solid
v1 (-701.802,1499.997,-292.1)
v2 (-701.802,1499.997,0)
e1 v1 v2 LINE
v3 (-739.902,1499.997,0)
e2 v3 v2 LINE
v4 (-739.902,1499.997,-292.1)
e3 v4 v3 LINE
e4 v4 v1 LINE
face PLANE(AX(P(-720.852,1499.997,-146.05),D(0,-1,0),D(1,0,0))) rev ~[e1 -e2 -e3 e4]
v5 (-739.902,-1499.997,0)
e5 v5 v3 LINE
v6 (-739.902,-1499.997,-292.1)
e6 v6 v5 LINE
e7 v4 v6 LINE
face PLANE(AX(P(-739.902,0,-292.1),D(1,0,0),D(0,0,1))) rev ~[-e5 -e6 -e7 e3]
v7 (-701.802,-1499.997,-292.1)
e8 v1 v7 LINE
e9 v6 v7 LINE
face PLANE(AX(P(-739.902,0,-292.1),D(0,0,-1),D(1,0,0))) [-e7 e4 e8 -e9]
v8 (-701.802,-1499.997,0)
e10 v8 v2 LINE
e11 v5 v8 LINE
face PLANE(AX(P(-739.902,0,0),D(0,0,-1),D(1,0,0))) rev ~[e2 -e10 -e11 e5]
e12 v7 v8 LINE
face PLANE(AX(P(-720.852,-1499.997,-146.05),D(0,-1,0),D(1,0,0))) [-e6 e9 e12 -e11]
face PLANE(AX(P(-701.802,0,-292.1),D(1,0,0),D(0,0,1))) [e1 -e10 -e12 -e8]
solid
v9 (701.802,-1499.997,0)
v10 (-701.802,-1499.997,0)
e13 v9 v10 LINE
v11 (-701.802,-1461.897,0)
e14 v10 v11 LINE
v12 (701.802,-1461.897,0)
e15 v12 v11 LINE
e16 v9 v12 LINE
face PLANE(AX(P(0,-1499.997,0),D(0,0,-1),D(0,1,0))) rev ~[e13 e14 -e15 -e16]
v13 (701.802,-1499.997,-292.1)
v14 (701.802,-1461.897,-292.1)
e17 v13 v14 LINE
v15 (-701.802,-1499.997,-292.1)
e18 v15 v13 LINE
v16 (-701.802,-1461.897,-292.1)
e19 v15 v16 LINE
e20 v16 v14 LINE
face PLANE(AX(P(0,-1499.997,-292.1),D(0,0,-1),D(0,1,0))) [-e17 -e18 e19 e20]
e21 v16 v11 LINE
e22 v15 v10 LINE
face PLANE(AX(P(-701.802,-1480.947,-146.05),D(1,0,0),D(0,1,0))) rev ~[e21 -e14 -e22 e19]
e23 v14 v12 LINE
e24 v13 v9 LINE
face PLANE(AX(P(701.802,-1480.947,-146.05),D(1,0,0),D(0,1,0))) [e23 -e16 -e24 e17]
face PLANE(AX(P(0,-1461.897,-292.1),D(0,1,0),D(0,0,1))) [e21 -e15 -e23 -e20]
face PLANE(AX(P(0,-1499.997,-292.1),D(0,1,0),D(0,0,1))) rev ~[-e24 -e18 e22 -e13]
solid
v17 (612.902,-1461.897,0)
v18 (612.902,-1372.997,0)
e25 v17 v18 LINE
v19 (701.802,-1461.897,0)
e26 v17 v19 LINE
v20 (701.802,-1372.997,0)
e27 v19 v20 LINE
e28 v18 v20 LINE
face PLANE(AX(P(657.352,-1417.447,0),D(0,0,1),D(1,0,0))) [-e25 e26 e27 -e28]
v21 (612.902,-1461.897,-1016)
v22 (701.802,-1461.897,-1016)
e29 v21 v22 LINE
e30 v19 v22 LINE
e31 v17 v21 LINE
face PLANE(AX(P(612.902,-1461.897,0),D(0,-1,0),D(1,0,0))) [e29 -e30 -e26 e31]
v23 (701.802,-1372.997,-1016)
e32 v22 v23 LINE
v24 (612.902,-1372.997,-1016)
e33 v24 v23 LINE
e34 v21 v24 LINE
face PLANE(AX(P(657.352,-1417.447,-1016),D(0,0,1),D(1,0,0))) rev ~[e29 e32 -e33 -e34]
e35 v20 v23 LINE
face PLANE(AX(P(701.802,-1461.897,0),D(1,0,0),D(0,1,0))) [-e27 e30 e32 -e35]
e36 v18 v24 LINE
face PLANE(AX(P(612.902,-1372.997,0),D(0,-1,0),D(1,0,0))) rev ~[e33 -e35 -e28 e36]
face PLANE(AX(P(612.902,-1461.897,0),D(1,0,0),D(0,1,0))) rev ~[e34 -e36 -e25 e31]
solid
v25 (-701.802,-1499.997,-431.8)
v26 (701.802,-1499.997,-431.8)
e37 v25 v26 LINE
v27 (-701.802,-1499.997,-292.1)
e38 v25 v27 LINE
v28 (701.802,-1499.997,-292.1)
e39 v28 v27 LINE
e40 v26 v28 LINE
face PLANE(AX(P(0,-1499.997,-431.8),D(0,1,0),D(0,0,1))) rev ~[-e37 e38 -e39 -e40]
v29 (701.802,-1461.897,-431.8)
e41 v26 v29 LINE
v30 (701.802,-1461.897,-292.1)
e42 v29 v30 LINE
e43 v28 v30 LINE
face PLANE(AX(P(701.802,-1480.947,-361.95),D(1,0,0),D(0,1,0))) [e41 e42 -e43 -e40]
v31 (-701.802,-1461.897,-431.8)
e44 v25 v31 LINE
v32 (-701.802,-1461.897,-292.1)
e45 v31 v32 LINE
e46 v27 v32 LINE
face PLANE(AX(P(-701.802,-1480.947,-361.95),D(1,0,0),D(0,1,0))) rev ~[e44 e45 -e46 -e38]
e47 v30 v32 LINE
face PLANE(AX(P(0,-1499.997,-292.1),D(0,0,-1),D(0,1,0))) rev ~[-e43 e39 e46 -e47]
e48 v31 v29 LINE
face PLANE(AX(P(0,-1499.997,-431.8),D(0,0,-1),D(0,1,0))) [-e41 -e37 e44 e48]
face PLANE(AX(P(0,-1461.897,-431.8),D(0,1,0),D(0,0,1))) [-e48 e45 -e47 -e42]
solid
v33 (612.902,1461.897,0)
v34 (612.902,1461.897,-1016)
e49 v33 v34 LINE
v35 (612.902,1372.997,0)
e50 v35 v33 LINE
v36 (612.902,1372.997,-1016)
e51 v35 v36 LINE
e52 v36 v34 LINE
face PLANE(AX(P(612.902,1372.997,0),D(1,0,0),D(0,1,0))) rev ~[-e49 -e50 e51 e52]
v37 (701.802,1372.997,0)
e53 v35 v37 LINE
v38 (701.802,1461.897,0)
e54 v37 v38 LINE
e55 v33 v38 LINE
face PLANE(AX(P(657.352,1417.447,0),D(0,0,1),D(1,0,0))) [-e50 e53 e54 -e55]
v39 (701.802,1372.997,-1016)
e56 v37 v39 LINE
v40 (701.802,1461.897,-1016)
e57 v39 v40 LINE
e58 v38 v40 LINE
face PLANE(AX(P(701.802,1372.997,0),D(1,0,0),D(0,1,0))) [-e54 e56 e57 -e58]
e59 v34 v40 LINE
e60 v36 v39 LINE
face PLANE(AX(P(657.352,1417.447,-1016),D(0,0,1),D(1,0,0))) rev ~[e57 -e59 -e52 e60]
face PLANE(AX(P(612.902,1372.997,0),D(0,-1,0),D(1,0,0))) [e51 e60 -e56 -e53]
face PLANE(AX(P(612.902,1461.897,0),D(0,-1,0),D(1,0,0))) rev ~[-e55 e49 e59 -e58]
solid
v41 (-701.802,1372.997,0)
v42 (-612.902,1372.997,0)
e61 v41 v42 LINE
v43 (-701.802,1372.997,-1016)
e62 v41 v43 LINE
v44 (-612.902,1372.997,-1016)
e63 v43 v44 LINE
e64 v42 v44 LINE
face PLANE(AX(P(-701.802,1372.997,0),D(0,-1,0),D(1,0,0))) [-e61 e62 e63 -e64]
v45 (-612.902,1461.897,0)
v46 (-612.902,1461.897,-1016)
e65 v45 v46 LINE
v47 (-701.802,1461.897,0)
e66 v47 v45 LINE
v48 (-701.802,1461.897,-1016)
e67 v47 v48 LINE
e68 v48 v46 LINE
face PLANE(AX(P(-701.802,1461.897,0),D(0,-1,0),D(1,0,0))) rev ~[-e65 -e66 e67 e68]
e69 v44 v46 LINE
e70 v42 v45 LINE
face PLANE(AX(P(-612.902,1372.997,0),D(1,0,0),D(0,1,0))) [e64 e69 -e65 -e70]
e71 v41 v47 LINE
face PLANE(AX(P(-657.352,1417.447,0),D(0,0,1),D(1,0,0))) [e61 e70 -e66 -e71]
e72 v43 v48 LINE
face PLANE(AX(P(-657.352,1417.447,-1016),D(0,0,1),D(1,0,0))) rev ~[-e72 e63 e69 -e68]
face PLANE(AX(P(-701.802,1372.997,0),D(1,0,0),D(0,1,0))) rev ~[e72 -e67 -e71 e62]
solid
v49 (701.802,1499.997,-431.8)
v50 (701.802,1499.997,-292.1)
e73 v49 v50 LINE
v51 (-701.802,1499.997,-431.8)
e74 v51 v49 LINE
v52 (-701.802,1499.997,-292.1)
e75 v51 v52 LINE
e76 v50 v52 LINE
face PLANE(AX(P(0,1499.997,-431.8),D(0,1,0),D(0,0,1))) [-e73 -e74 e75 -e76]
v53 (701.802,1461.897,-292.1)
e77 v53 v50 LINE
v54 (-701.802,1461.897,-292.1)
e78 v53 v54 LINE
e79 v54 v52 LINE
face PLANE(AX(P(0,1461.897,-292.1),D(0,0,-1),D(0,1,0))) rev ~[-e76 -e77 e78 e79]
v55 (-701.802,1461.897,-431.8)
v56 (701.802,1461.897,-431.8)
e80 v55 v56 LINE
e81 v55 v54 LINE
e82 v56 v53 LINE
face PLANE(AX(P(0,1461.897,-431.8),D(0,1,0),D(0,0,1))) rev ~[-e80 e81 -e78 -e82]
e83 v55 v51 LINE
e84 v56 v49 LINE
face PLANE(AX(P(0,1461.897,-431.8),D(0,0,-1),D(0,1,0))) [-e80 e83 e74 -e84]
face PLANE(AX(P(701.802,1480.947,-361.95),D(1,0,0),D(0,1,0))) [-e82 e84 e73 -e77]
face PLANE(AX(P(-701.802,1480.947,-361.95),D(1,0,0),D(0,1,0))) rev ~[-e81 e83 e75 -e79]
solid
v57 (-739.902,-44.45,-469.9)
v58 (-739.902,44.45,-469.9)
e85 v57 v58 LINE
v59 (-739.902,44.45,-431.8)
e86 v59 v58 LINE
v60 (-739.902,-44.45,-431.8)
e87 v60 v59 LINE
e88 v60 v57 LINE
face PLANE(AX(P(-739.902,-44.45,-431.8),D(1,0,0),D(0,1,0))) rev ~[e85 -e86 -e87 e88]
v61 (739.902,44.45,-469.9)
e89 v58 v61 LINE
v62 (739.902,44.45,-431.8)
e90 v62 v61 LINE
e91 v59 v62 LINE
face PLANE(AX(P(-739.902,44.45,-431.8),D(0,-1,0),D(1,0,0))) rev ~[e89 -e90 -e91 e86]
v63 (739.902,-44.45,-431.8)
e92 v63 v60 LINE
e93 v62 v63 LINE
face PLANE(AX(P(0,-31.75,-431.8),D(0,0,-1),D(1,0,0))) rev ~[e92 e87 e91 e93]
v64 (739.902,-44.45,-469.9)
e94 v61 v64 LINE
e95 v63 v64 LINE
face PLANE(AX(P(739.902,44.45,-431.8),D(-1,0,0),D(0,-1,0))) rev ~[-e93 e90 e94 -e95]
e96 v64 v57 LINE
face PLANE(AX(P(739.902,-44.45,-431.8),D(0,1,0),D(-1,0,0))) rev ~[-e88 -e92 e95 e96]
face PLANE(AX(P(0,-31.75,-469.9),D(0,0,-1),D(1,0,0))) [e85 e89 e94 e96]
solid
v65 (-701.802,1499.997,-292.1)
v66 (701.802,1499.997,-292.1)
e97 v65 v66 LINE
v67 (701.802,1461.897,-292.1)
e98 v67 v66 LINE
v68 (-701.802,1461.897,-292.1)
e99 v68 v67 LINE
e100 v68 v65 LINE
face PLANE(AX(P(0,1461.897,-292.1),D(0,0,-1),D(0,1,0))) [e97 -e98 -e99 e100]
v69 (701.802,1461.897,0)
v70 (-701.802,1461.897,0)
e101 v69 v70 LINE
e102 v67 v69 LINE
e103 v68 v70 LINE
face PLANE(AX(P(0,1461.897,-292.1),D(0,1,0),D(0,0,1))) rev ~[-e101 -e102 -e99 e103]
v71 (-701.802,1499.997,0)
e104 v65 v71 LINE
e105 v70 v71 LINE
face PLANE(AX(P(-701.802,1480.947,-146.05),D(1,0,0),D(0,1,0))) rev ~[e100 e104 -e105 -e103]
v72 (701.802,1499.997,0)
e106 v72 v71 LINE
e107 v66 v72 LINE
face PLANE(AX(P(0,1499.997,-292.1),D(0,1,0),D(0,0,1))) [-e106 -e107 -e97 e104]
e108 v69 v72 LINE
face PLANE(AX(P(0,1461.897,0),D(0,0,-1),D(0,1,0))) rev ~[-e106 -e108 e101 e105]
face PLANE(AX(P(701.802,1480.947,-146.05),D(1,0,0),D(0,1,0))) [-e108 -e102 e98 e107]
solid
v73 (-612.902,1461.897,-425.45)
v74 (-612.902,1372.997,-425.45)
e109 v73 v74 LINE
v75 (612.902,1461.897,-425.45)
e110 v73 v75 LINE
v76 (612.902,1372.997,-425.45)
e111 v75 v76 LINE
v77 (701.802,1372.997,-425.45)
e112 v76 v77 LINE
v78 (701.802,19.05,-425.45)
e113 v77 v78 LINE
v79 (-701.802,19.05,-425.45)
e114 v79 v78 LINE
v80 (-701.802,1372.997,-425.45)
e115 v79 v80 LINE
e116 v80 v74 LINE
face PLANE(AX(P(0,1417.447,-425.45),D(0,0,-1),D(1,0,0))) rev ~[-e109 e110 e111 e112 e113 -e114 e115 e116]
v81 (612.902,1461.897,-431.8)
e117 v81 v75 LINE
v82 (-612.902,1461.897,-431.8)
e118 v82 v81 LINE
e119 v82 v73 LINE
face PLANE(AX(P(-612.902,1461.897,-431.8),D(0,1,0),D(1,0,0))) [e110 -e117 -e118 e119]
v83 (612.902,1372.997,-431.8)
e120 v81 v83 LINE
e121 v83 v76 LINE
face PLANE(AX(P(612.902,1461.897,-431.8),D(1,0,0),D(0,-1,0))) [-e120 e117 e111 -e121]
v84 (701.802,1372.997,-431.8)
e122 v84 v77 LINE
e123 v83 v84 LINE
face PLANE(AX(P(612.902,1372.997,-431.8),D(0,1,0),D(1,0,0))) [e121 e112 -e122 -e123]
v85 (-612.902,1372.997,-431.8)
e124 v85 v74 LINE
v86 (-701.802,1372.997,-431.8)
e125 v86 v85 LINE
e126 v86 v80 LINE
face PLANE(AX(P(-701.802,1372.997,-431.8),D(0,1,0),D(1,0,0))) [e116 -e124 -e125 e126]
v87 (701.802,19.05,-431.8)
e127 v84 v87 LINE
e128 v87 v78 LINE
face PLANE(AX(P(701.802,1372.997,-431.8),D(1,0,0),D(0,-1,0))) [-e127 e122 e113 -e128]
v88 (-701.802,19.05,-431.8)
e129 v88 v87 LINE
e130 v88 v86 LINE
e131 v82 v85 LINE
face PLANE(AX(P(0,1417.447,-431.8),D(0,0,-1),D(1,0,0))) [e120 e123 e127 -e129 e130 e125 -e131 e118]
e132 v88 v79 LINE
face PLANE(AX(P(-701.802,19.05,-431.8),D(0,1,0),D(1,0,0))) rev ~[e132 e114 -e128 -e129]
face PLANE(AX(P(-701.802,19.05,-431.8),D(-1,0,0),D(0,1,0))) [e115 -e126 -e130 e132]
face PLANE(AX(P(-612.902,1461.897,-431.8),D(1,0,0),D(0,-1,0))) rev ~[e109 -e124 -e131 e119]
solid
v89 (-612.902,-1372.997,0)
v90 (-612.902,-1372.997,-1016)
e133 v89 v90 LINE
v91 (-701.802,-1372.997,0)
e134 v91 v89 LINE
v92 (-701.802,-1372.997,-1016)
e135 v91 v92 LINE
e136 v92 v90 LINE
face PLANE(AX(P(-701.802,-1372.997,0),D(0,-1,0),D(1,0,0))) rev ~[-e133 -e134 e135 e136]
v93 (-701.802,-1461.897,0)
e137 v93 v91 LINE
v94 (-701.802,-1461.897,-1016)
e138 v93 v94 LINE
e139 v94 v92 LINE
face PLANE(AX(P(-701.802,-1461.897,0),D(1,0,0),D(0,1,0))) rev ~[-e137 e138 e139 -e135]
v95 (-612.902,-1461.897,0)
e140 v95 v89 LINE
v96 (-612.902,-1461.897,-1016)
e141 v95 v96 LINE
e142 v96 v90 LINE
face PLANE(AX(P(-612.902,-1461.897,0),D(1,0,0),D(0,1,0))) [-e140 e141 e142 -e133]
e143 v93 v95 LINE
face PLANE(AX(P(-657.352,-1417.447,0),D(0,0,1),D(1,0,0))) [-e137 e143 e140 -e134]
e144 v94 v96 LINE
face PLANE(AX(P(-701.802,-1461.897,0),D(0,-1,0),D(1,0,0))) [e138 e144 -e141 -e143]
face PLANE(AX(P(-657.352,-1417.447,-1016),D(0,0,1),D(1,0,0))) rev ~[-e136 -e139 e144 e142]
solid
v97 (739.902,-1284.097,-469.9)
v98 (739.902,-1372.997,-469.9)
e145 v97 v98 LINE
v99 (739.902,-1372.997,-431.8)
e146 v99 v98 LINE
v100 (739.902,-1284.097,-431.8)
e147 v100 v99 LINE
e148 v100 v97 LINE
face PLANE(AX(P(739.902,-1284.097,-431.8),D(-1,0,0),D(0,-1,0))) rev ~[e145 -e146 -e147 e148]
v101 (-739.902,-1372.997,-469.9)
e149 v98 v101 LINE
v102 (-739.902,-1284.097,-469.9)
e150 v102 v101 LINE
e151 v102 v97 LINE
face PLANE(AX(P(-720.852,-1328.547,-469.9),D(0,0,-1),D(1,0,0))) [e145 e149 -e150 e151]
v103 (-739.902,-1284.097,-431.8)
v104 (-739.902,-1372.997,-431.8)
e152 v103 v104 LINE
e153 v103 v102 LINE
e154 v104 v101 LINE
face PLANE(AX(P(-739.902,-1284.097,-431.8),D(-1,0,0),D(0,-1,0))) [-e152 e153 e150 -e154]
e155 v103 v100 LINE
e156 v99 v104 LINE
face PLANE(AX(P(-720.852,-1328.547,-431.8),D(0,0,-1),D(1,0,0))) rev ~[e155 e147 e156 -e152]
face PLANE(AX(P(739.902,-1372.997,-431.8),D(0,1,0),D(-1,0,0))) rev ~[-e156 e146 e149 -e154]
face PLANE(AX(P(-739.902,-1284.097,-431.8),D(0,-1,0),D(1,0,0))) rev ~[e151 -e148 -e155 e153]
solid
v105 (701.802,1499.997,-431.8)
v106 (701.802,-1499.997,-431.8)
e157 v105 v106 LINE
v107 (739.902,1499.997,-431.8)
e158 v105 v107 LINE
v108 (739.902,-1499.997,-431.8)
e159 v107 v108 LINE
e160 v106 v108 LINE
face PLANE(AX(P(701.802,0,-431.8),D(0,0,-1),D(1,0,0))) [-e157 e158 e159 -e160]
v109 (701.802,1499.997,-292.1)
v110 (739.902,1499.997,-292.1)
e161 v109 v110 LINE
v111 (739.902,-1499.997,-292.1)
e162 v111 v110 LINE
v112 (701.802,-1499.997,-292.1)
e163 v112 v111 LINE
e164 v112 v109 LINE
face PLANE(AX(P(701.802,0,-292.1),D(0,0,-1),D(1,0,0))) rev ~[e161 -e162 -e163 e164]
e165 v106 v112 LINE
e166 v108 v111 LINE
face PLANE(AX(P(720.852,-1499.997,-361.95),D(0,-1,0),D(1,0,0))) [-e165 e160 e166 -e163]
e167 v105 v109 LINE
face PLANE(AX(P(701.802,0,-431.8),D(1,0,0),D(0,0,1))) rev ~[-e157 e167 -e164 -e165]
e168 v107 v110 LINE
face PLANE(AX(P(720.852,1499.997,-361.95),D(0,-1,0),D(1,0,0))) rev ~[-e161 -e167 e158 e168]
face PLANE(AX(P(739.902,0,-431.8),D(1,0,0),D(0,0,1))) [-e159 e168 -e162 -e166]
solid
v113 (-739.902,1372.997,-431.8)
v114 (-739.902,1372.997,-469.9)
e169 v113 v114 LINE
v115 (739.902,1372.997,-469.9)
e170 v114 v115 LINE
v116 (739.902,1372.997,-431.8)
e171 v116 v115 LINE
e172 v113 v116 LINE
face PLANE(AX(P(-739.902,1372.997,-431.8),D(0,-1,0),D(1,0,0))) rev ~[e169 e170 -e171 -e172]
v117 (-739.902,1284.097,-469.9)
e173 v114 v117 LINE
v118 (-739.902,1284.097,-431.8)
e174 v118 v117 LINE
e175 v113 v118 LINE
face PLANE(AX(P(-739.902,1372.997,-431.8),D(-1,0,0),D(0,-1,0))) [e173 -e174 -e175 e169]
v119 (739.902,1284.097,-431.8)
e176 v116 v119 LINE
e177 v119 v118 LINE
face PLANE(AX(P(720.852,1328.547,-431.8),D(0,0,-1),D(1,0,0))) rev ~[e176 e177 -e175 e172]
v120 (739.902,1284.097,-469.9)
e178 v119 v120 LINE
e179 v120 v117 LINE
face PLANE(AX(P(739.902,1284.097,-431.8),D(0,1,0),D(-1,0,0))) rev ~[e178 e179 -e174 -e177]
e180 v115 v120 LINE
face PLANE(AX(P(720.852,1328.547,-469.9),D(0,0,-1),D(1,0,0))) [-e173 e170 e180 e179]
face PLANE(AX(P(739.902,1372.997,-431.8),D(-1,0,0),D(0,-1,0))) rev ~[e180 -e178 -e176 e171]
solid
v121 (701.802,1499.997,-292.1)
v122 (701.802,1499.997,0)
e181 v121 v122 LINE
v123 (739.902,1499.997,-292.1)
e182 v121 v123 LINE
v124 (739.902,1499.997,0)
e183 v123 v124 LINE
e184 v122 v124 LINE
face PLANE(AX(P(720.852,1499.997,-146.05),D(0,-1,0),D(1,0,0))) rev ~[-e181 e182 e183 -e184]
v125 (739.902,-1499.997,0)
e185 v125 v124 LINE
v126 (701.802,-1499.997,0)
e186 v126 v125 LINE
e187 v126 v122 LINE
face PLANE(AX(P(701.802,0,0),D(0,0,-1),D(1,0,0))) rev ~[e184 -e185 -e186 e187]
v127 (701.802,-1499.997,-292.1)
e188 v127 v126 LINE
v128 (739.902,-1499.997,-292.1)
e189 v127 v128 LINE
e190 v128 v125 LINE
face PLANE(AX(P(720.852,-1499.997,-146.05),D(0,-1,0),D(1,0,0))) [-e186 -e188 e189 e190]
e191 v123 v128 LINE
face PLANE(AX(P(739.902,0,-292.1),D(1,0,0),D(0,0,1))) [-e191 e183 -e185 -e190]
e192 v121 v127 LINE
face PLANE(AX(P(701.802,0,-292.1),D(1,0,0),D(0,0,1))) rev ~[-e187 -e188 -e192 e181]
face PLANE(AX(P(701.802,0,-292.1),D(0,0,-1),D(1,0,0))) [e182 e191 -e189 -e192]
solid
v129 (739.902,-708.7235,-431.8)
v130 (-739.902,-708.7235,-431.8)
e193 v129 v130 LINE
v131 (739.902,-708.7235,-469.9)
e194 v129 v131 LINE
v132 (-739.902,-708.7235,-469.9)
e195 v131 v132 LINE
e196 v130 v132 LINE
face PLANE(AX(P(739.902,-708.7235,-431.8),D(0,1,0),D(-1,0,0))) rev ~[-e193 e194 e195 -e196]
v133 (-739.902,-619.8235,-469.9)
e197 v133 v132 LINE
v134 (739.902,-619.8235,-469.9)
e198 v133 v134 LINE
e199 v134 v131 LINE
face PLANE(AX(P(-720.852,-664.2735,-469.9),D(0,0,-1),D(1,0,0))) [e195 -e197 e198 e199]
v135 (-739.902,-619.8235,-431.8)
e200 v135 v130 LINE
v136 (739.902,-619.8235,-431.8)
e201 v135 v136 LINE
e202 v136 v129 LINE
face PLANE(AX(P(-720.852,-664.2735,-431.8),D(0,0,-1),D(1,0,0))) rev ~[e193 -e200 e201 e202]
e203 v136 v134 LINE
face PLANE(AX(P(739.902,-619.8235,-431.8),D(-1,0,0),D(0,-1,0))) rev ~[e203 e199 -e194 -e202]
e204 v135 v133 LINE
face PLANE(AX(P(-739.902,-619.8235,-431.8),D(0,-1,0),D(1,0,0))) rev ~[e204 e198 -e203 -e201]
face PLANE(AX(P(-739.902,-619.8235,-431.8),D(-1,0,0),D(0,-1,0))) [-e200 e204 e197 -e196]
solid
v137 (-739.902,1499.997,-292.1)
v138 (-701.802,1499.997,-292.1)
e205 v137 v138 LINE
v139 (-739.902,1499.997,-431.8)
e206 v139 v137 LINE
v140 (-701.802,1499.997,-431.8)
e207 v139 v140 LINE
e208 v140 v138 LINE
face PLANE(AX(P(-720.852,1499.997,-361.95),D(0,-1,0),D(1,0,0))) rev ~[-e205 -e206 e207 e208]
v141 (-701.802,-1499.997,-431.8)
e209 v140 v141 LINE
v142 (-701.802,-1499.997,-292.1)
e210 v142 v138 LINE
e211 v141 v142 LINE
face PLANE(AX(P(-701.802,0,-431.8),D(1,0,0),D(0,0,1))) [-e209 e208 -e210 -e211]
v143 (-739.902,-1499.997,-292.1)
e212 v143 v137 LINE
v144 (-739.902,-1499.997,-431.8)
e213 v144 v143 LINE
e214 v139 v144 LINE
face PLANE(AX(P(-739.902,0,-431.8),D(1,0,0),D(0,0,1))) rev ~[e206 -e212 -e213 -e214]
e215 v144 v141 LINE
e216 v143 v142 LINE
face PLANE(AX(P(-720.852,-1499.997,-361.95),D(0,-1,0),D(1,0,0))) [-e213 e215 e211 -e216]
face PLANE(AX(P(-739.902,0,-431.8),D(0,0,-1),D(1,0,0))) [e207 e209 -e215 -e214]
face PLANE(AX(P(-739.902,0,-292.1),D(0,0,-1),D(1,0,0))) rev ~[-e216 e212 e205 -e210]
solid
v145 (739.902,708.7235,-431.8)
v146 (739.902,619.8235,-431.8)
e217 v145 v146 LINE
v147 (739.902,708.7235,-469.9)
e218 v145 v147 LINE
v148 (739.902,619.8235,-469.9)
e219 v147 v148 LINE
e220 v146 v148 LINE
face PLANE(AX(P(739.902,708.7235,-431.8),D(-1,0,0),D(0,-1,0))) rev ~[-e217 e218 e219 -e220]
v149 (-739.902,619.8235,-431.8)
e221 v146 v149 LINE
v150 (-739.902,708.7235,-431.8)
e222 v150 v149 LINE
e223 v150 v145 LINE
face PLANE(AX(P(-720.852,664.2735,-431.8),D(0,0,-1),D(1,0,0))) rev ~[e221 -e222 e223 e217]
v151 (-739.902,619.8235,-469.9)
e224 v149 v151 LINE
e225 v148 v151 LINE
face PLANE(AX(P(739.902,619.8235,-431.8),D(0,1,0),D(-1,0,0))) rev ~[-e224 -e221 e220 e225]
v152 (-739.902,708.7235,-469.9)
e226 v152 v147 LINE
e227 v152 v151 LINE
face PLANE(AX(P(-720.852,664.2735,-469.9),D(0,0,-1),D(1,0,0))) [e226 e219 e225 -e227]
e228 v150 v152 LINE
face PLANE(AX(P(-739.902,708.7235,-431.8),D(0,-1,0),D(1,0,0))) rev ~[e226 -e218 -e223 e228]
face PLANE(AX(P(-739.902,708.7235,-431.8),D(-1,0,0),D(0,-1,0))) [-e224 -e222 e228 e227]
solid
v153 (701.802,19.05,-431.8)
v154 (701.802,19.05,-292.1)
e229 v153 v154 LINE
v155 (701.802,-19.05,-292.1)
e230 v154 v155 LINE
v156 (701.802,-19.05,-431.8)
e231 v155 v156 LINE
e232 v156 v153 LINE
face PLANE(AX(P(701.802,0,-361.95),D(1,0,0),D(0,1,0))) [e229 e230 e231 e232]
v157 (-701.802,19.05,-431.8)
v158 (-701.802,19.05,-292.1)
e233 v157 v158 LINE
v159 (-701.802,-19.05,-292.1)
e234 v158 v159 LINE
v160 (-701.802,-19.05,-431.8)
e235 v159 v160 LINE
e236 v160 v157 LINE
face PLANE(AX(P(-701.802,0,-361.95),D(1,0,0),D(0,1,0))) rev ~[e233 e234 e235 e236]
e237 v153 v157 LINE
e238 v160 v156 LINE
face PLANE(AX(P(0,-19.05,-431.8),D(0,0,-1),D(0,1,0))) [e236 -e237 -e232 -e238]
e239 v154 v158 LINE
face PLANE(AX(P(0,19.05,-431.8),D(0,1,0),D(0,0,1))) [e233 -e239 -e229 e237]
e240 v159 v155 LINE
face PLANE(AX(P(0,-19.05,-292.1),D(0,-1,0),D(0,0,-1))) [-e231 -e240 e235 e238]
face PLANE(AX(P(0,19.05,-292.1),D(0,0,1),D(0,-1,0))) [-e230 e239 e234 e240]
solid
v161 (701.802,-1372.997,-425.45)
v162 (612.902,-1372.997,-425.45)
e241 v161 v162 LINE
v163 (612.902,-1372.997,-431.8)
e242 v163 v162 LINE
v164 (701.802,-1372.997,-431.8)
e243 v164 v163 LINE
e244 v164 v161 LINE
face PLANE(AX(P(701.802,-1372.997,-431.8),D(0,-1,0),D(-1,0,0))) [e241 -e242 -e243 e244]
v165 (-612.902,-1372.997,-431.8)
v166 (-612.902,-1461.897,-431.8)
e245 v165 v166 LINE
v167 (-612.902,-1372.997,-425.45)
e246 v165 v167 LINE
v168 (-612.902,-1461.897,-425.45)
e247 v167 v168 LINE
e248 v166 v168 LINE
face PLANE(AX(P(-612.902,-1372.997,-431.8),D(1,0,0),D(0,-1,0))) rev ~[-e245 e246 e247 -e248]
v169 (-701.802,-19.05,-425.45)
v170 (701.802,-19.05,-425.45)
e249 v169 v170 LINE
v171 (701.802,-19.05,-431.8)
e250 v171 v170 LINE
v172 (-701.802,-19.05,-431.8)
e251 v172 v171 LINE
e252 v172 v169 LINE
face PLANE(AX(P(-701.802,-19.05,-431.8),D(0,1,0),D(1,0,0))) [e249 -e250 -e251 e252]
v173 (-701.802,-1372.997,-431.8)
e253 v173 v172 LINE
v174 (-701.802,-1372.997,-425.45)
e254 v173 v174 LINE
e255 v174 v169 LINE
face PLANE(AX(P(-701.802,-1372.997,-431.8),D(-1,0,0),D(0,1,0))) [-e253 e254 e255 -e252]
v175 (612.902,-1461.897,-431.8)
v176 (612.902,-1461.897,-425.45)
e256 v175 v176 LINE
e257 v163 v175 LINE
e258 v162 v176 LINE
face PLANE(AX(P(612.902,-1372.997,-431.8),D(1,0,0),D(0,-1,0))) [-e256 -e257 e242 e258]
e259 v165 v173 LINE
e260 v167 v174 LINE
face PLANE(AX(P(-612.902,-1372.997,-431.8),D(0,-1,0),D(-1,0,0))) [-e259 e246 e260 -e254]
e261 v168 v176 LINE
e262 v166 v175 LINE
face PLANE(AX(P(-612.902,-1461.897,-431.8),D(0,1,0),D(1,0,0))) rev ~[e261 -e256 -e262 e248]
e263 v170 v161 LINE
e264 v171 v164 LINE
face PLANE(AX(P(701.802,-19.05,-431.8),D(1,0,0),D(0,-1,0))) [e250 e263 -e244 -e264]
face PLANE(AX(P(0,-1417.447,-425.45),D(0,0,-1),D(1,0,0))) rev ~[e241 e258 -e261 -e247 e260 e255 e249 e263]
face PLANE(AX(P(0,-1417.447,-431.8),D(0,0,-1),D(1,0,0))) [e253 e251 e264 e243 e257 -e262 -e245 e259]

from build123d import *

# Parameters (mm, degrees)
F1_W          = 38.1
F1_H          = 292.1
F3_DEPTH      = 1499.997
F3_DEPTH_BACK = 1499.997
F1_H_2        = 139.7
F4_DEPTH      = 1499.997
F4_DEPTH_BACK = 1499.997
F5_W          = 38.1
F5_H          = 292.1
F6_DEPTH      = 701.802
F6_DEPTH_BACK = 701.802
F5_H_2        = 139.7
F7_DEPTH      = 701.802
F7_DEPTH_BACK = 701.802
F8_W          = 88.9
F8_H          = 88.9
F10_DEPTH     = 1016
F12_W         = 1225.804
F12_H         = 88.9
F12_W_2       = 1403.604
F12_H_2       = 575.3735
F12_H_3       = 25.4
F13_DEPTH     = 6.35
F12_W_3       = 38.1
F14_DEPTH     = 38.1
F12_H_4       = 38.1


with BuildPart() as f3:
    # F1 (on Front) → F3 (new body, two sides)
    with BuildSketch(Plane.XZ) as f3_sk:
        with Locations((-720.852, -146.05)):
            Rectangle(F1_W, F1_H)
    extrude(amount=F3_DEPTH)
    extrude(f3_sk.sketch, amount=-F3_DEPTH_BACK)


with BuildPart() as f3b:
    # F1 (on Front) → F3, piece 2 (new body, two sides)
    with BuildSketch(Plane.XZ) as f3_2_sk:
        with Locations((720.852, -146.05)):
            Rectangle(F1_W, F1_H)
    extrude(amount=F3_DEPTH)
    extrude(f3_2_sk.sketch, amount=-F3_DEPTH_BACK)


with BuildPart() as f4:
    # F1 (on Front) → F4 (new body, two sides)
    with BuildSketch(Plane.XZ) as f4_sk:
        with Locations((-720.852, -361.95)):
            Rectangle(F1_W, F1_H_2)
    extrude(amount=F4_DEPTH)
    extrude(f4_sk.sketch, amount=-F4_DEPTH_BACK)


with BuildPart() as f4b:
    # F1 (on Front) → F4, piece 2 (new body, two sides)
    with BuildSketch(Plane.XZ) as f4_2_sk:
        with Locations((720.852, -361.95)):
            Rectangle(F1_W, F1_H_2)
    extrude(amount=F4_DEPTH)
    extrude(f4_2_sk.sketch, amount=-F4_DEPTH_BACK)


with BuildPart() as f6:
    # F5 (on Right) → F6 (new body, two sides)
    with BuildSketch(Plane.YZ) as f6_sk:
        with Locations((1480.947, -146.05)):
            Rectangle(F5_W, F5_H)
    extrude(amount=F6_DEPTH)
    extrude(f6_sk.sketch, amount=-F6_DEPTH_BACK)


with BuildPart() as f6b:
    # F5 (on Right) → F6, piece 2 (new body, two sides)
    with BuildSketch(Plane.YZ) as f6_2_sk:
        with Locations((-1480.947, -146.05)):
            Rectangle(F5_W, F5_H)
    extrude(amount=F6_DEPTH)
    extrude(f6_2_sk.sketch, amount=-F6_DEPTH_BACK)


with BuildPart() as f7:
    # F5 (on Right) → F7 (new body, two sides)
    with BuildSketch(Plane.YZ) as f7_sk:
        with Locations((-1480.947, -361.95)):
            Rectangle(F5_W, F5_H_2)
    extrude(amount=F7_DEPTH)
    extrude(f7_sk.sketch, amount=-F7_DEPTH_BACK)


with BuildPart() as f7b:
    # F5 (on Right) → F7, piece 2 (new body, two sides)
    with BuildSketch(Plane.YZ) as f7_2_sk:
        with Locations((1480.947, -361.95)):
            Rectangle(F5_W, F5_H_2)
    extrude(amount=F7_DEPTH)
    extrude(f7_2_sk.sketch, amount=-F7_DEPTH_BACK)


with BuildPart() as f7c:
    # F5 (on Right) → F7, piece 3 (new body, two sides)
    with BuildSketch(Plane.YZ) as f7_3_sk:
        Polygon((19.05, -292.1), (0, -292.1), (-19.05, -292.1), (-19.05, -431.8), (19.05, -431.8), align=None)
    extrude(amount=F7_DEPTH)
    extrude(f7_3_sk.sketch, amount=-F7_DEPTH_BACK)


with BuildPart() as f10:
    # F8 (on Top) → F10 (new body, through all)
    with BuildSketch(Plane.XY):
        with Locations((-657.352, 1417.447)):
            Rectangle(F8_W, F8_H)
    extrude(amount=-F10_DEPTH)


with BuildPart() as f10b:
    # F8 (on Top) → F10, piece 2 (new body, through all)
    with BuildSketch(Plane.XY):
        with Locations((657.352, 1417.447)):
            Rectangle(F8_W, F8_H)
    extrude(amount=-F10_DEPTH)


with BuildPart() as f10c:
    # F8 (on Top) → F10, piece 3 (new body, through all)
    with BuildSketch(Plane.XY):
        with Locations((-657.352, -1417.447)):
            Rectangle(F8_W, F8_H)
    extrude(amount=-F10_DEPTH)


with BuildPart() as f10d:
    # F8 (on Top) → F10, piece 4 (new body, through all)
    with BuildSketch(Plane.XY):
        with Locations((657.352, -1417.447)):
            Rectangle(F8_W, F8_H)
    extrude(amount=-F10_DEPTH)


with BuildPart() as f13:
    # F12 (on offset) → F13 (new body)
    with BuildSketch(Plane(origin=(0, 0, -431.8), x_dir=(1, 0, 0), z_dir=(0, 0, -1))):
        with Locations((0, 1417.447)):
            Rectangle(F12_W, F12_H)
        Polygon((612.902, 1372.997), (-612.902, 1372.997), (-701.802, 1372.997), (-701.802, 1284.097), (701.802, 1284.097), (701.802, 1372.997), align=None)
        with Locations((0, 996.41025)):
            Rectangle(F12_W_2, F12_H_2)
        with Locations((0, 664.2735)):
            Rectangle(F12_W_2, F12_H)
        with Locations((0, 332.13675)):
            Rectangle(F12_W_2, F12_H_2)
        with Locations((0, 31.75)):
            Rectangle(F12_W_2, F12_H_3)
    extrude(amount=-F13_DEPTH)


with BuildPart() as f13b:
    # F12 (on offset) → F13, piece 2 (new body)
    with BuildSketch(Plane(origin=(0, 0, -431.8), x_dir=(1, 0, 0), z_dir=(0, 0, -1))):
        with Locations((0, -1417.447)):
            Rectangle(F12_W, F12_H)
        with Locations((0, -332.13675)):
            Rectangle(F12_W_2, F12_H_2)
        Polygon((701.802, -1284.097), (-701.802, -1284.097), (-701.802, -1372.997), (-612.902, -1372.997), (612.902, -1372.997), (701.802, -1372.997), align=None)
        with Locations((0, -664.2735)):
            Rectangle(F12_W_2, F12_H)
        with Locations((0, -996.41025)):
            Rectangle(F12_W_2, F12_H_2)
        with Locations((0, -31.75)):
            Rectangle(F12_W_2, F12_H_3)
    extrude(amount=-F13_DEPTH)


with BuildPart() as f14:
    # F12 (on offset) → F14 (new body)
    with BuildSketch(Plane(origin=(0, 0, -431.8), x_dir=(1, 0, 0), z_dir=(0, 0, -1))):
        with Locations((-720.852, 1328.547)):
            Rectangle(F12_W_3, F12_H)
        Polygon((612.902, 1372.997), (-612.902, 1372.997), (-701.802, 1372.997), (-701.802, 1284.097), (701.802, 1284.097), (701.802, 1372.997), align=None)
        with Locations((720.852, 1328.547)):
            Rectangle(F12_W_3, F12_H)
    extrude(amount=F14_DEPTH)


with BuildPart() as f14b:
    # F12 (on offset) → F14, piece 2 (new body)
    with BuildSketch(Plane(origin=(0, 0, -431.8), x_dir=(1, 0, 0), z_dir=(0, 0, -1))):
        with Locations((-720.852, 664.2735)):
            Rectangle(F12_W_3, F12_H)
        with Locations((0, 664.2735)):
            Rectangle(F12_W_2, F12_H)
        with Locations((720.852, 664.2735)):
            Rectangle(F12_W_3, F12_H)
    extrude(amount=F14_DEPTH)


with BuildPart() as f14c:
    # F12 (on offset) → F14, piece 3 (new body)
    with BuildSketch(Plane(origin=(0, 0, -431.8), x_dir=(1, 0, 0), z_dir=(0, 0, -1))):
        with Locations((0, 31.75)):
            Rectangle(F12_W_2, F12_H_3)
        Rectangle(F12_W_2, F12_H_4)
        Polygon((-701.802, 19.05), (-701.802, 44.45), (-739.902, 44.45), (-739.902, -44.45), (-701.802, -44.45), (-701.802, -19.05), align=None)
        with Locations((0, -31.75)):
            Rectangle(F12_W_2, F12_H_3)
        Polygon((739.902, 44.45), (701.802, 44.45), (701.802, 19.05), (701.802, -19.05), (701.802, -44.45), (739.902, -44.45), align=None)
    extrude(amount=F14_DEPTH)


with BuildPart() as f14d:
    # F12 (on offset) → F14, piece 4 (new body)
    with BuildSketch(Plane(origin=(0, 0, -431.8), x_dir=(1, 0, 0), z_dir=(0, 0, -1))):
        with Locations((-720.852, -664.2735)):
            Rectangle(F12_W_3, F12_H)
        with Locations((0, -664.2735)):
            Rectangle(F12_W_2, F12_H)
        with Locations((720.852, -664.2735)):
            Rectangle(F12_W_3, F12_H)
    extrude(amount=F14_DEPTH)


with BuildPart() as f14e:
    # F12 (on offset) → F14, piece 5 (new body)
    with BuildSketch(Plane(origin=(0, 0, -431.8), x_dir=(1, 0, 0), z_dir=(0, 0, -1))):
        with Locations((720.852, -1328.547)):
            Rectangle(F12_W_3, F12_H)
        with Locations((-720.852, -1328.547)):
            Rectangle(F12_W_3, F12_H)
        Polygon((701.802, -1284.097), (-701.802, -1284.097), (-701.802, -1372.997), (-612.902, -1372.997), (612.902, -1372.997), (701.802, -1372.997), align=None)
    extrude(amount=F14_DEPTH)


solid = Compound([f3.part, f3b.part, f4.part, f4b.part, f6.part, f6b.part, f7.part, f7b.part, f7c.part, f10.part, f10b.part, f10c.part, f10d.part, f13.part, f13b.part, f14.part, f14b.part, f14c.part, f14d.part, f14e.part])
